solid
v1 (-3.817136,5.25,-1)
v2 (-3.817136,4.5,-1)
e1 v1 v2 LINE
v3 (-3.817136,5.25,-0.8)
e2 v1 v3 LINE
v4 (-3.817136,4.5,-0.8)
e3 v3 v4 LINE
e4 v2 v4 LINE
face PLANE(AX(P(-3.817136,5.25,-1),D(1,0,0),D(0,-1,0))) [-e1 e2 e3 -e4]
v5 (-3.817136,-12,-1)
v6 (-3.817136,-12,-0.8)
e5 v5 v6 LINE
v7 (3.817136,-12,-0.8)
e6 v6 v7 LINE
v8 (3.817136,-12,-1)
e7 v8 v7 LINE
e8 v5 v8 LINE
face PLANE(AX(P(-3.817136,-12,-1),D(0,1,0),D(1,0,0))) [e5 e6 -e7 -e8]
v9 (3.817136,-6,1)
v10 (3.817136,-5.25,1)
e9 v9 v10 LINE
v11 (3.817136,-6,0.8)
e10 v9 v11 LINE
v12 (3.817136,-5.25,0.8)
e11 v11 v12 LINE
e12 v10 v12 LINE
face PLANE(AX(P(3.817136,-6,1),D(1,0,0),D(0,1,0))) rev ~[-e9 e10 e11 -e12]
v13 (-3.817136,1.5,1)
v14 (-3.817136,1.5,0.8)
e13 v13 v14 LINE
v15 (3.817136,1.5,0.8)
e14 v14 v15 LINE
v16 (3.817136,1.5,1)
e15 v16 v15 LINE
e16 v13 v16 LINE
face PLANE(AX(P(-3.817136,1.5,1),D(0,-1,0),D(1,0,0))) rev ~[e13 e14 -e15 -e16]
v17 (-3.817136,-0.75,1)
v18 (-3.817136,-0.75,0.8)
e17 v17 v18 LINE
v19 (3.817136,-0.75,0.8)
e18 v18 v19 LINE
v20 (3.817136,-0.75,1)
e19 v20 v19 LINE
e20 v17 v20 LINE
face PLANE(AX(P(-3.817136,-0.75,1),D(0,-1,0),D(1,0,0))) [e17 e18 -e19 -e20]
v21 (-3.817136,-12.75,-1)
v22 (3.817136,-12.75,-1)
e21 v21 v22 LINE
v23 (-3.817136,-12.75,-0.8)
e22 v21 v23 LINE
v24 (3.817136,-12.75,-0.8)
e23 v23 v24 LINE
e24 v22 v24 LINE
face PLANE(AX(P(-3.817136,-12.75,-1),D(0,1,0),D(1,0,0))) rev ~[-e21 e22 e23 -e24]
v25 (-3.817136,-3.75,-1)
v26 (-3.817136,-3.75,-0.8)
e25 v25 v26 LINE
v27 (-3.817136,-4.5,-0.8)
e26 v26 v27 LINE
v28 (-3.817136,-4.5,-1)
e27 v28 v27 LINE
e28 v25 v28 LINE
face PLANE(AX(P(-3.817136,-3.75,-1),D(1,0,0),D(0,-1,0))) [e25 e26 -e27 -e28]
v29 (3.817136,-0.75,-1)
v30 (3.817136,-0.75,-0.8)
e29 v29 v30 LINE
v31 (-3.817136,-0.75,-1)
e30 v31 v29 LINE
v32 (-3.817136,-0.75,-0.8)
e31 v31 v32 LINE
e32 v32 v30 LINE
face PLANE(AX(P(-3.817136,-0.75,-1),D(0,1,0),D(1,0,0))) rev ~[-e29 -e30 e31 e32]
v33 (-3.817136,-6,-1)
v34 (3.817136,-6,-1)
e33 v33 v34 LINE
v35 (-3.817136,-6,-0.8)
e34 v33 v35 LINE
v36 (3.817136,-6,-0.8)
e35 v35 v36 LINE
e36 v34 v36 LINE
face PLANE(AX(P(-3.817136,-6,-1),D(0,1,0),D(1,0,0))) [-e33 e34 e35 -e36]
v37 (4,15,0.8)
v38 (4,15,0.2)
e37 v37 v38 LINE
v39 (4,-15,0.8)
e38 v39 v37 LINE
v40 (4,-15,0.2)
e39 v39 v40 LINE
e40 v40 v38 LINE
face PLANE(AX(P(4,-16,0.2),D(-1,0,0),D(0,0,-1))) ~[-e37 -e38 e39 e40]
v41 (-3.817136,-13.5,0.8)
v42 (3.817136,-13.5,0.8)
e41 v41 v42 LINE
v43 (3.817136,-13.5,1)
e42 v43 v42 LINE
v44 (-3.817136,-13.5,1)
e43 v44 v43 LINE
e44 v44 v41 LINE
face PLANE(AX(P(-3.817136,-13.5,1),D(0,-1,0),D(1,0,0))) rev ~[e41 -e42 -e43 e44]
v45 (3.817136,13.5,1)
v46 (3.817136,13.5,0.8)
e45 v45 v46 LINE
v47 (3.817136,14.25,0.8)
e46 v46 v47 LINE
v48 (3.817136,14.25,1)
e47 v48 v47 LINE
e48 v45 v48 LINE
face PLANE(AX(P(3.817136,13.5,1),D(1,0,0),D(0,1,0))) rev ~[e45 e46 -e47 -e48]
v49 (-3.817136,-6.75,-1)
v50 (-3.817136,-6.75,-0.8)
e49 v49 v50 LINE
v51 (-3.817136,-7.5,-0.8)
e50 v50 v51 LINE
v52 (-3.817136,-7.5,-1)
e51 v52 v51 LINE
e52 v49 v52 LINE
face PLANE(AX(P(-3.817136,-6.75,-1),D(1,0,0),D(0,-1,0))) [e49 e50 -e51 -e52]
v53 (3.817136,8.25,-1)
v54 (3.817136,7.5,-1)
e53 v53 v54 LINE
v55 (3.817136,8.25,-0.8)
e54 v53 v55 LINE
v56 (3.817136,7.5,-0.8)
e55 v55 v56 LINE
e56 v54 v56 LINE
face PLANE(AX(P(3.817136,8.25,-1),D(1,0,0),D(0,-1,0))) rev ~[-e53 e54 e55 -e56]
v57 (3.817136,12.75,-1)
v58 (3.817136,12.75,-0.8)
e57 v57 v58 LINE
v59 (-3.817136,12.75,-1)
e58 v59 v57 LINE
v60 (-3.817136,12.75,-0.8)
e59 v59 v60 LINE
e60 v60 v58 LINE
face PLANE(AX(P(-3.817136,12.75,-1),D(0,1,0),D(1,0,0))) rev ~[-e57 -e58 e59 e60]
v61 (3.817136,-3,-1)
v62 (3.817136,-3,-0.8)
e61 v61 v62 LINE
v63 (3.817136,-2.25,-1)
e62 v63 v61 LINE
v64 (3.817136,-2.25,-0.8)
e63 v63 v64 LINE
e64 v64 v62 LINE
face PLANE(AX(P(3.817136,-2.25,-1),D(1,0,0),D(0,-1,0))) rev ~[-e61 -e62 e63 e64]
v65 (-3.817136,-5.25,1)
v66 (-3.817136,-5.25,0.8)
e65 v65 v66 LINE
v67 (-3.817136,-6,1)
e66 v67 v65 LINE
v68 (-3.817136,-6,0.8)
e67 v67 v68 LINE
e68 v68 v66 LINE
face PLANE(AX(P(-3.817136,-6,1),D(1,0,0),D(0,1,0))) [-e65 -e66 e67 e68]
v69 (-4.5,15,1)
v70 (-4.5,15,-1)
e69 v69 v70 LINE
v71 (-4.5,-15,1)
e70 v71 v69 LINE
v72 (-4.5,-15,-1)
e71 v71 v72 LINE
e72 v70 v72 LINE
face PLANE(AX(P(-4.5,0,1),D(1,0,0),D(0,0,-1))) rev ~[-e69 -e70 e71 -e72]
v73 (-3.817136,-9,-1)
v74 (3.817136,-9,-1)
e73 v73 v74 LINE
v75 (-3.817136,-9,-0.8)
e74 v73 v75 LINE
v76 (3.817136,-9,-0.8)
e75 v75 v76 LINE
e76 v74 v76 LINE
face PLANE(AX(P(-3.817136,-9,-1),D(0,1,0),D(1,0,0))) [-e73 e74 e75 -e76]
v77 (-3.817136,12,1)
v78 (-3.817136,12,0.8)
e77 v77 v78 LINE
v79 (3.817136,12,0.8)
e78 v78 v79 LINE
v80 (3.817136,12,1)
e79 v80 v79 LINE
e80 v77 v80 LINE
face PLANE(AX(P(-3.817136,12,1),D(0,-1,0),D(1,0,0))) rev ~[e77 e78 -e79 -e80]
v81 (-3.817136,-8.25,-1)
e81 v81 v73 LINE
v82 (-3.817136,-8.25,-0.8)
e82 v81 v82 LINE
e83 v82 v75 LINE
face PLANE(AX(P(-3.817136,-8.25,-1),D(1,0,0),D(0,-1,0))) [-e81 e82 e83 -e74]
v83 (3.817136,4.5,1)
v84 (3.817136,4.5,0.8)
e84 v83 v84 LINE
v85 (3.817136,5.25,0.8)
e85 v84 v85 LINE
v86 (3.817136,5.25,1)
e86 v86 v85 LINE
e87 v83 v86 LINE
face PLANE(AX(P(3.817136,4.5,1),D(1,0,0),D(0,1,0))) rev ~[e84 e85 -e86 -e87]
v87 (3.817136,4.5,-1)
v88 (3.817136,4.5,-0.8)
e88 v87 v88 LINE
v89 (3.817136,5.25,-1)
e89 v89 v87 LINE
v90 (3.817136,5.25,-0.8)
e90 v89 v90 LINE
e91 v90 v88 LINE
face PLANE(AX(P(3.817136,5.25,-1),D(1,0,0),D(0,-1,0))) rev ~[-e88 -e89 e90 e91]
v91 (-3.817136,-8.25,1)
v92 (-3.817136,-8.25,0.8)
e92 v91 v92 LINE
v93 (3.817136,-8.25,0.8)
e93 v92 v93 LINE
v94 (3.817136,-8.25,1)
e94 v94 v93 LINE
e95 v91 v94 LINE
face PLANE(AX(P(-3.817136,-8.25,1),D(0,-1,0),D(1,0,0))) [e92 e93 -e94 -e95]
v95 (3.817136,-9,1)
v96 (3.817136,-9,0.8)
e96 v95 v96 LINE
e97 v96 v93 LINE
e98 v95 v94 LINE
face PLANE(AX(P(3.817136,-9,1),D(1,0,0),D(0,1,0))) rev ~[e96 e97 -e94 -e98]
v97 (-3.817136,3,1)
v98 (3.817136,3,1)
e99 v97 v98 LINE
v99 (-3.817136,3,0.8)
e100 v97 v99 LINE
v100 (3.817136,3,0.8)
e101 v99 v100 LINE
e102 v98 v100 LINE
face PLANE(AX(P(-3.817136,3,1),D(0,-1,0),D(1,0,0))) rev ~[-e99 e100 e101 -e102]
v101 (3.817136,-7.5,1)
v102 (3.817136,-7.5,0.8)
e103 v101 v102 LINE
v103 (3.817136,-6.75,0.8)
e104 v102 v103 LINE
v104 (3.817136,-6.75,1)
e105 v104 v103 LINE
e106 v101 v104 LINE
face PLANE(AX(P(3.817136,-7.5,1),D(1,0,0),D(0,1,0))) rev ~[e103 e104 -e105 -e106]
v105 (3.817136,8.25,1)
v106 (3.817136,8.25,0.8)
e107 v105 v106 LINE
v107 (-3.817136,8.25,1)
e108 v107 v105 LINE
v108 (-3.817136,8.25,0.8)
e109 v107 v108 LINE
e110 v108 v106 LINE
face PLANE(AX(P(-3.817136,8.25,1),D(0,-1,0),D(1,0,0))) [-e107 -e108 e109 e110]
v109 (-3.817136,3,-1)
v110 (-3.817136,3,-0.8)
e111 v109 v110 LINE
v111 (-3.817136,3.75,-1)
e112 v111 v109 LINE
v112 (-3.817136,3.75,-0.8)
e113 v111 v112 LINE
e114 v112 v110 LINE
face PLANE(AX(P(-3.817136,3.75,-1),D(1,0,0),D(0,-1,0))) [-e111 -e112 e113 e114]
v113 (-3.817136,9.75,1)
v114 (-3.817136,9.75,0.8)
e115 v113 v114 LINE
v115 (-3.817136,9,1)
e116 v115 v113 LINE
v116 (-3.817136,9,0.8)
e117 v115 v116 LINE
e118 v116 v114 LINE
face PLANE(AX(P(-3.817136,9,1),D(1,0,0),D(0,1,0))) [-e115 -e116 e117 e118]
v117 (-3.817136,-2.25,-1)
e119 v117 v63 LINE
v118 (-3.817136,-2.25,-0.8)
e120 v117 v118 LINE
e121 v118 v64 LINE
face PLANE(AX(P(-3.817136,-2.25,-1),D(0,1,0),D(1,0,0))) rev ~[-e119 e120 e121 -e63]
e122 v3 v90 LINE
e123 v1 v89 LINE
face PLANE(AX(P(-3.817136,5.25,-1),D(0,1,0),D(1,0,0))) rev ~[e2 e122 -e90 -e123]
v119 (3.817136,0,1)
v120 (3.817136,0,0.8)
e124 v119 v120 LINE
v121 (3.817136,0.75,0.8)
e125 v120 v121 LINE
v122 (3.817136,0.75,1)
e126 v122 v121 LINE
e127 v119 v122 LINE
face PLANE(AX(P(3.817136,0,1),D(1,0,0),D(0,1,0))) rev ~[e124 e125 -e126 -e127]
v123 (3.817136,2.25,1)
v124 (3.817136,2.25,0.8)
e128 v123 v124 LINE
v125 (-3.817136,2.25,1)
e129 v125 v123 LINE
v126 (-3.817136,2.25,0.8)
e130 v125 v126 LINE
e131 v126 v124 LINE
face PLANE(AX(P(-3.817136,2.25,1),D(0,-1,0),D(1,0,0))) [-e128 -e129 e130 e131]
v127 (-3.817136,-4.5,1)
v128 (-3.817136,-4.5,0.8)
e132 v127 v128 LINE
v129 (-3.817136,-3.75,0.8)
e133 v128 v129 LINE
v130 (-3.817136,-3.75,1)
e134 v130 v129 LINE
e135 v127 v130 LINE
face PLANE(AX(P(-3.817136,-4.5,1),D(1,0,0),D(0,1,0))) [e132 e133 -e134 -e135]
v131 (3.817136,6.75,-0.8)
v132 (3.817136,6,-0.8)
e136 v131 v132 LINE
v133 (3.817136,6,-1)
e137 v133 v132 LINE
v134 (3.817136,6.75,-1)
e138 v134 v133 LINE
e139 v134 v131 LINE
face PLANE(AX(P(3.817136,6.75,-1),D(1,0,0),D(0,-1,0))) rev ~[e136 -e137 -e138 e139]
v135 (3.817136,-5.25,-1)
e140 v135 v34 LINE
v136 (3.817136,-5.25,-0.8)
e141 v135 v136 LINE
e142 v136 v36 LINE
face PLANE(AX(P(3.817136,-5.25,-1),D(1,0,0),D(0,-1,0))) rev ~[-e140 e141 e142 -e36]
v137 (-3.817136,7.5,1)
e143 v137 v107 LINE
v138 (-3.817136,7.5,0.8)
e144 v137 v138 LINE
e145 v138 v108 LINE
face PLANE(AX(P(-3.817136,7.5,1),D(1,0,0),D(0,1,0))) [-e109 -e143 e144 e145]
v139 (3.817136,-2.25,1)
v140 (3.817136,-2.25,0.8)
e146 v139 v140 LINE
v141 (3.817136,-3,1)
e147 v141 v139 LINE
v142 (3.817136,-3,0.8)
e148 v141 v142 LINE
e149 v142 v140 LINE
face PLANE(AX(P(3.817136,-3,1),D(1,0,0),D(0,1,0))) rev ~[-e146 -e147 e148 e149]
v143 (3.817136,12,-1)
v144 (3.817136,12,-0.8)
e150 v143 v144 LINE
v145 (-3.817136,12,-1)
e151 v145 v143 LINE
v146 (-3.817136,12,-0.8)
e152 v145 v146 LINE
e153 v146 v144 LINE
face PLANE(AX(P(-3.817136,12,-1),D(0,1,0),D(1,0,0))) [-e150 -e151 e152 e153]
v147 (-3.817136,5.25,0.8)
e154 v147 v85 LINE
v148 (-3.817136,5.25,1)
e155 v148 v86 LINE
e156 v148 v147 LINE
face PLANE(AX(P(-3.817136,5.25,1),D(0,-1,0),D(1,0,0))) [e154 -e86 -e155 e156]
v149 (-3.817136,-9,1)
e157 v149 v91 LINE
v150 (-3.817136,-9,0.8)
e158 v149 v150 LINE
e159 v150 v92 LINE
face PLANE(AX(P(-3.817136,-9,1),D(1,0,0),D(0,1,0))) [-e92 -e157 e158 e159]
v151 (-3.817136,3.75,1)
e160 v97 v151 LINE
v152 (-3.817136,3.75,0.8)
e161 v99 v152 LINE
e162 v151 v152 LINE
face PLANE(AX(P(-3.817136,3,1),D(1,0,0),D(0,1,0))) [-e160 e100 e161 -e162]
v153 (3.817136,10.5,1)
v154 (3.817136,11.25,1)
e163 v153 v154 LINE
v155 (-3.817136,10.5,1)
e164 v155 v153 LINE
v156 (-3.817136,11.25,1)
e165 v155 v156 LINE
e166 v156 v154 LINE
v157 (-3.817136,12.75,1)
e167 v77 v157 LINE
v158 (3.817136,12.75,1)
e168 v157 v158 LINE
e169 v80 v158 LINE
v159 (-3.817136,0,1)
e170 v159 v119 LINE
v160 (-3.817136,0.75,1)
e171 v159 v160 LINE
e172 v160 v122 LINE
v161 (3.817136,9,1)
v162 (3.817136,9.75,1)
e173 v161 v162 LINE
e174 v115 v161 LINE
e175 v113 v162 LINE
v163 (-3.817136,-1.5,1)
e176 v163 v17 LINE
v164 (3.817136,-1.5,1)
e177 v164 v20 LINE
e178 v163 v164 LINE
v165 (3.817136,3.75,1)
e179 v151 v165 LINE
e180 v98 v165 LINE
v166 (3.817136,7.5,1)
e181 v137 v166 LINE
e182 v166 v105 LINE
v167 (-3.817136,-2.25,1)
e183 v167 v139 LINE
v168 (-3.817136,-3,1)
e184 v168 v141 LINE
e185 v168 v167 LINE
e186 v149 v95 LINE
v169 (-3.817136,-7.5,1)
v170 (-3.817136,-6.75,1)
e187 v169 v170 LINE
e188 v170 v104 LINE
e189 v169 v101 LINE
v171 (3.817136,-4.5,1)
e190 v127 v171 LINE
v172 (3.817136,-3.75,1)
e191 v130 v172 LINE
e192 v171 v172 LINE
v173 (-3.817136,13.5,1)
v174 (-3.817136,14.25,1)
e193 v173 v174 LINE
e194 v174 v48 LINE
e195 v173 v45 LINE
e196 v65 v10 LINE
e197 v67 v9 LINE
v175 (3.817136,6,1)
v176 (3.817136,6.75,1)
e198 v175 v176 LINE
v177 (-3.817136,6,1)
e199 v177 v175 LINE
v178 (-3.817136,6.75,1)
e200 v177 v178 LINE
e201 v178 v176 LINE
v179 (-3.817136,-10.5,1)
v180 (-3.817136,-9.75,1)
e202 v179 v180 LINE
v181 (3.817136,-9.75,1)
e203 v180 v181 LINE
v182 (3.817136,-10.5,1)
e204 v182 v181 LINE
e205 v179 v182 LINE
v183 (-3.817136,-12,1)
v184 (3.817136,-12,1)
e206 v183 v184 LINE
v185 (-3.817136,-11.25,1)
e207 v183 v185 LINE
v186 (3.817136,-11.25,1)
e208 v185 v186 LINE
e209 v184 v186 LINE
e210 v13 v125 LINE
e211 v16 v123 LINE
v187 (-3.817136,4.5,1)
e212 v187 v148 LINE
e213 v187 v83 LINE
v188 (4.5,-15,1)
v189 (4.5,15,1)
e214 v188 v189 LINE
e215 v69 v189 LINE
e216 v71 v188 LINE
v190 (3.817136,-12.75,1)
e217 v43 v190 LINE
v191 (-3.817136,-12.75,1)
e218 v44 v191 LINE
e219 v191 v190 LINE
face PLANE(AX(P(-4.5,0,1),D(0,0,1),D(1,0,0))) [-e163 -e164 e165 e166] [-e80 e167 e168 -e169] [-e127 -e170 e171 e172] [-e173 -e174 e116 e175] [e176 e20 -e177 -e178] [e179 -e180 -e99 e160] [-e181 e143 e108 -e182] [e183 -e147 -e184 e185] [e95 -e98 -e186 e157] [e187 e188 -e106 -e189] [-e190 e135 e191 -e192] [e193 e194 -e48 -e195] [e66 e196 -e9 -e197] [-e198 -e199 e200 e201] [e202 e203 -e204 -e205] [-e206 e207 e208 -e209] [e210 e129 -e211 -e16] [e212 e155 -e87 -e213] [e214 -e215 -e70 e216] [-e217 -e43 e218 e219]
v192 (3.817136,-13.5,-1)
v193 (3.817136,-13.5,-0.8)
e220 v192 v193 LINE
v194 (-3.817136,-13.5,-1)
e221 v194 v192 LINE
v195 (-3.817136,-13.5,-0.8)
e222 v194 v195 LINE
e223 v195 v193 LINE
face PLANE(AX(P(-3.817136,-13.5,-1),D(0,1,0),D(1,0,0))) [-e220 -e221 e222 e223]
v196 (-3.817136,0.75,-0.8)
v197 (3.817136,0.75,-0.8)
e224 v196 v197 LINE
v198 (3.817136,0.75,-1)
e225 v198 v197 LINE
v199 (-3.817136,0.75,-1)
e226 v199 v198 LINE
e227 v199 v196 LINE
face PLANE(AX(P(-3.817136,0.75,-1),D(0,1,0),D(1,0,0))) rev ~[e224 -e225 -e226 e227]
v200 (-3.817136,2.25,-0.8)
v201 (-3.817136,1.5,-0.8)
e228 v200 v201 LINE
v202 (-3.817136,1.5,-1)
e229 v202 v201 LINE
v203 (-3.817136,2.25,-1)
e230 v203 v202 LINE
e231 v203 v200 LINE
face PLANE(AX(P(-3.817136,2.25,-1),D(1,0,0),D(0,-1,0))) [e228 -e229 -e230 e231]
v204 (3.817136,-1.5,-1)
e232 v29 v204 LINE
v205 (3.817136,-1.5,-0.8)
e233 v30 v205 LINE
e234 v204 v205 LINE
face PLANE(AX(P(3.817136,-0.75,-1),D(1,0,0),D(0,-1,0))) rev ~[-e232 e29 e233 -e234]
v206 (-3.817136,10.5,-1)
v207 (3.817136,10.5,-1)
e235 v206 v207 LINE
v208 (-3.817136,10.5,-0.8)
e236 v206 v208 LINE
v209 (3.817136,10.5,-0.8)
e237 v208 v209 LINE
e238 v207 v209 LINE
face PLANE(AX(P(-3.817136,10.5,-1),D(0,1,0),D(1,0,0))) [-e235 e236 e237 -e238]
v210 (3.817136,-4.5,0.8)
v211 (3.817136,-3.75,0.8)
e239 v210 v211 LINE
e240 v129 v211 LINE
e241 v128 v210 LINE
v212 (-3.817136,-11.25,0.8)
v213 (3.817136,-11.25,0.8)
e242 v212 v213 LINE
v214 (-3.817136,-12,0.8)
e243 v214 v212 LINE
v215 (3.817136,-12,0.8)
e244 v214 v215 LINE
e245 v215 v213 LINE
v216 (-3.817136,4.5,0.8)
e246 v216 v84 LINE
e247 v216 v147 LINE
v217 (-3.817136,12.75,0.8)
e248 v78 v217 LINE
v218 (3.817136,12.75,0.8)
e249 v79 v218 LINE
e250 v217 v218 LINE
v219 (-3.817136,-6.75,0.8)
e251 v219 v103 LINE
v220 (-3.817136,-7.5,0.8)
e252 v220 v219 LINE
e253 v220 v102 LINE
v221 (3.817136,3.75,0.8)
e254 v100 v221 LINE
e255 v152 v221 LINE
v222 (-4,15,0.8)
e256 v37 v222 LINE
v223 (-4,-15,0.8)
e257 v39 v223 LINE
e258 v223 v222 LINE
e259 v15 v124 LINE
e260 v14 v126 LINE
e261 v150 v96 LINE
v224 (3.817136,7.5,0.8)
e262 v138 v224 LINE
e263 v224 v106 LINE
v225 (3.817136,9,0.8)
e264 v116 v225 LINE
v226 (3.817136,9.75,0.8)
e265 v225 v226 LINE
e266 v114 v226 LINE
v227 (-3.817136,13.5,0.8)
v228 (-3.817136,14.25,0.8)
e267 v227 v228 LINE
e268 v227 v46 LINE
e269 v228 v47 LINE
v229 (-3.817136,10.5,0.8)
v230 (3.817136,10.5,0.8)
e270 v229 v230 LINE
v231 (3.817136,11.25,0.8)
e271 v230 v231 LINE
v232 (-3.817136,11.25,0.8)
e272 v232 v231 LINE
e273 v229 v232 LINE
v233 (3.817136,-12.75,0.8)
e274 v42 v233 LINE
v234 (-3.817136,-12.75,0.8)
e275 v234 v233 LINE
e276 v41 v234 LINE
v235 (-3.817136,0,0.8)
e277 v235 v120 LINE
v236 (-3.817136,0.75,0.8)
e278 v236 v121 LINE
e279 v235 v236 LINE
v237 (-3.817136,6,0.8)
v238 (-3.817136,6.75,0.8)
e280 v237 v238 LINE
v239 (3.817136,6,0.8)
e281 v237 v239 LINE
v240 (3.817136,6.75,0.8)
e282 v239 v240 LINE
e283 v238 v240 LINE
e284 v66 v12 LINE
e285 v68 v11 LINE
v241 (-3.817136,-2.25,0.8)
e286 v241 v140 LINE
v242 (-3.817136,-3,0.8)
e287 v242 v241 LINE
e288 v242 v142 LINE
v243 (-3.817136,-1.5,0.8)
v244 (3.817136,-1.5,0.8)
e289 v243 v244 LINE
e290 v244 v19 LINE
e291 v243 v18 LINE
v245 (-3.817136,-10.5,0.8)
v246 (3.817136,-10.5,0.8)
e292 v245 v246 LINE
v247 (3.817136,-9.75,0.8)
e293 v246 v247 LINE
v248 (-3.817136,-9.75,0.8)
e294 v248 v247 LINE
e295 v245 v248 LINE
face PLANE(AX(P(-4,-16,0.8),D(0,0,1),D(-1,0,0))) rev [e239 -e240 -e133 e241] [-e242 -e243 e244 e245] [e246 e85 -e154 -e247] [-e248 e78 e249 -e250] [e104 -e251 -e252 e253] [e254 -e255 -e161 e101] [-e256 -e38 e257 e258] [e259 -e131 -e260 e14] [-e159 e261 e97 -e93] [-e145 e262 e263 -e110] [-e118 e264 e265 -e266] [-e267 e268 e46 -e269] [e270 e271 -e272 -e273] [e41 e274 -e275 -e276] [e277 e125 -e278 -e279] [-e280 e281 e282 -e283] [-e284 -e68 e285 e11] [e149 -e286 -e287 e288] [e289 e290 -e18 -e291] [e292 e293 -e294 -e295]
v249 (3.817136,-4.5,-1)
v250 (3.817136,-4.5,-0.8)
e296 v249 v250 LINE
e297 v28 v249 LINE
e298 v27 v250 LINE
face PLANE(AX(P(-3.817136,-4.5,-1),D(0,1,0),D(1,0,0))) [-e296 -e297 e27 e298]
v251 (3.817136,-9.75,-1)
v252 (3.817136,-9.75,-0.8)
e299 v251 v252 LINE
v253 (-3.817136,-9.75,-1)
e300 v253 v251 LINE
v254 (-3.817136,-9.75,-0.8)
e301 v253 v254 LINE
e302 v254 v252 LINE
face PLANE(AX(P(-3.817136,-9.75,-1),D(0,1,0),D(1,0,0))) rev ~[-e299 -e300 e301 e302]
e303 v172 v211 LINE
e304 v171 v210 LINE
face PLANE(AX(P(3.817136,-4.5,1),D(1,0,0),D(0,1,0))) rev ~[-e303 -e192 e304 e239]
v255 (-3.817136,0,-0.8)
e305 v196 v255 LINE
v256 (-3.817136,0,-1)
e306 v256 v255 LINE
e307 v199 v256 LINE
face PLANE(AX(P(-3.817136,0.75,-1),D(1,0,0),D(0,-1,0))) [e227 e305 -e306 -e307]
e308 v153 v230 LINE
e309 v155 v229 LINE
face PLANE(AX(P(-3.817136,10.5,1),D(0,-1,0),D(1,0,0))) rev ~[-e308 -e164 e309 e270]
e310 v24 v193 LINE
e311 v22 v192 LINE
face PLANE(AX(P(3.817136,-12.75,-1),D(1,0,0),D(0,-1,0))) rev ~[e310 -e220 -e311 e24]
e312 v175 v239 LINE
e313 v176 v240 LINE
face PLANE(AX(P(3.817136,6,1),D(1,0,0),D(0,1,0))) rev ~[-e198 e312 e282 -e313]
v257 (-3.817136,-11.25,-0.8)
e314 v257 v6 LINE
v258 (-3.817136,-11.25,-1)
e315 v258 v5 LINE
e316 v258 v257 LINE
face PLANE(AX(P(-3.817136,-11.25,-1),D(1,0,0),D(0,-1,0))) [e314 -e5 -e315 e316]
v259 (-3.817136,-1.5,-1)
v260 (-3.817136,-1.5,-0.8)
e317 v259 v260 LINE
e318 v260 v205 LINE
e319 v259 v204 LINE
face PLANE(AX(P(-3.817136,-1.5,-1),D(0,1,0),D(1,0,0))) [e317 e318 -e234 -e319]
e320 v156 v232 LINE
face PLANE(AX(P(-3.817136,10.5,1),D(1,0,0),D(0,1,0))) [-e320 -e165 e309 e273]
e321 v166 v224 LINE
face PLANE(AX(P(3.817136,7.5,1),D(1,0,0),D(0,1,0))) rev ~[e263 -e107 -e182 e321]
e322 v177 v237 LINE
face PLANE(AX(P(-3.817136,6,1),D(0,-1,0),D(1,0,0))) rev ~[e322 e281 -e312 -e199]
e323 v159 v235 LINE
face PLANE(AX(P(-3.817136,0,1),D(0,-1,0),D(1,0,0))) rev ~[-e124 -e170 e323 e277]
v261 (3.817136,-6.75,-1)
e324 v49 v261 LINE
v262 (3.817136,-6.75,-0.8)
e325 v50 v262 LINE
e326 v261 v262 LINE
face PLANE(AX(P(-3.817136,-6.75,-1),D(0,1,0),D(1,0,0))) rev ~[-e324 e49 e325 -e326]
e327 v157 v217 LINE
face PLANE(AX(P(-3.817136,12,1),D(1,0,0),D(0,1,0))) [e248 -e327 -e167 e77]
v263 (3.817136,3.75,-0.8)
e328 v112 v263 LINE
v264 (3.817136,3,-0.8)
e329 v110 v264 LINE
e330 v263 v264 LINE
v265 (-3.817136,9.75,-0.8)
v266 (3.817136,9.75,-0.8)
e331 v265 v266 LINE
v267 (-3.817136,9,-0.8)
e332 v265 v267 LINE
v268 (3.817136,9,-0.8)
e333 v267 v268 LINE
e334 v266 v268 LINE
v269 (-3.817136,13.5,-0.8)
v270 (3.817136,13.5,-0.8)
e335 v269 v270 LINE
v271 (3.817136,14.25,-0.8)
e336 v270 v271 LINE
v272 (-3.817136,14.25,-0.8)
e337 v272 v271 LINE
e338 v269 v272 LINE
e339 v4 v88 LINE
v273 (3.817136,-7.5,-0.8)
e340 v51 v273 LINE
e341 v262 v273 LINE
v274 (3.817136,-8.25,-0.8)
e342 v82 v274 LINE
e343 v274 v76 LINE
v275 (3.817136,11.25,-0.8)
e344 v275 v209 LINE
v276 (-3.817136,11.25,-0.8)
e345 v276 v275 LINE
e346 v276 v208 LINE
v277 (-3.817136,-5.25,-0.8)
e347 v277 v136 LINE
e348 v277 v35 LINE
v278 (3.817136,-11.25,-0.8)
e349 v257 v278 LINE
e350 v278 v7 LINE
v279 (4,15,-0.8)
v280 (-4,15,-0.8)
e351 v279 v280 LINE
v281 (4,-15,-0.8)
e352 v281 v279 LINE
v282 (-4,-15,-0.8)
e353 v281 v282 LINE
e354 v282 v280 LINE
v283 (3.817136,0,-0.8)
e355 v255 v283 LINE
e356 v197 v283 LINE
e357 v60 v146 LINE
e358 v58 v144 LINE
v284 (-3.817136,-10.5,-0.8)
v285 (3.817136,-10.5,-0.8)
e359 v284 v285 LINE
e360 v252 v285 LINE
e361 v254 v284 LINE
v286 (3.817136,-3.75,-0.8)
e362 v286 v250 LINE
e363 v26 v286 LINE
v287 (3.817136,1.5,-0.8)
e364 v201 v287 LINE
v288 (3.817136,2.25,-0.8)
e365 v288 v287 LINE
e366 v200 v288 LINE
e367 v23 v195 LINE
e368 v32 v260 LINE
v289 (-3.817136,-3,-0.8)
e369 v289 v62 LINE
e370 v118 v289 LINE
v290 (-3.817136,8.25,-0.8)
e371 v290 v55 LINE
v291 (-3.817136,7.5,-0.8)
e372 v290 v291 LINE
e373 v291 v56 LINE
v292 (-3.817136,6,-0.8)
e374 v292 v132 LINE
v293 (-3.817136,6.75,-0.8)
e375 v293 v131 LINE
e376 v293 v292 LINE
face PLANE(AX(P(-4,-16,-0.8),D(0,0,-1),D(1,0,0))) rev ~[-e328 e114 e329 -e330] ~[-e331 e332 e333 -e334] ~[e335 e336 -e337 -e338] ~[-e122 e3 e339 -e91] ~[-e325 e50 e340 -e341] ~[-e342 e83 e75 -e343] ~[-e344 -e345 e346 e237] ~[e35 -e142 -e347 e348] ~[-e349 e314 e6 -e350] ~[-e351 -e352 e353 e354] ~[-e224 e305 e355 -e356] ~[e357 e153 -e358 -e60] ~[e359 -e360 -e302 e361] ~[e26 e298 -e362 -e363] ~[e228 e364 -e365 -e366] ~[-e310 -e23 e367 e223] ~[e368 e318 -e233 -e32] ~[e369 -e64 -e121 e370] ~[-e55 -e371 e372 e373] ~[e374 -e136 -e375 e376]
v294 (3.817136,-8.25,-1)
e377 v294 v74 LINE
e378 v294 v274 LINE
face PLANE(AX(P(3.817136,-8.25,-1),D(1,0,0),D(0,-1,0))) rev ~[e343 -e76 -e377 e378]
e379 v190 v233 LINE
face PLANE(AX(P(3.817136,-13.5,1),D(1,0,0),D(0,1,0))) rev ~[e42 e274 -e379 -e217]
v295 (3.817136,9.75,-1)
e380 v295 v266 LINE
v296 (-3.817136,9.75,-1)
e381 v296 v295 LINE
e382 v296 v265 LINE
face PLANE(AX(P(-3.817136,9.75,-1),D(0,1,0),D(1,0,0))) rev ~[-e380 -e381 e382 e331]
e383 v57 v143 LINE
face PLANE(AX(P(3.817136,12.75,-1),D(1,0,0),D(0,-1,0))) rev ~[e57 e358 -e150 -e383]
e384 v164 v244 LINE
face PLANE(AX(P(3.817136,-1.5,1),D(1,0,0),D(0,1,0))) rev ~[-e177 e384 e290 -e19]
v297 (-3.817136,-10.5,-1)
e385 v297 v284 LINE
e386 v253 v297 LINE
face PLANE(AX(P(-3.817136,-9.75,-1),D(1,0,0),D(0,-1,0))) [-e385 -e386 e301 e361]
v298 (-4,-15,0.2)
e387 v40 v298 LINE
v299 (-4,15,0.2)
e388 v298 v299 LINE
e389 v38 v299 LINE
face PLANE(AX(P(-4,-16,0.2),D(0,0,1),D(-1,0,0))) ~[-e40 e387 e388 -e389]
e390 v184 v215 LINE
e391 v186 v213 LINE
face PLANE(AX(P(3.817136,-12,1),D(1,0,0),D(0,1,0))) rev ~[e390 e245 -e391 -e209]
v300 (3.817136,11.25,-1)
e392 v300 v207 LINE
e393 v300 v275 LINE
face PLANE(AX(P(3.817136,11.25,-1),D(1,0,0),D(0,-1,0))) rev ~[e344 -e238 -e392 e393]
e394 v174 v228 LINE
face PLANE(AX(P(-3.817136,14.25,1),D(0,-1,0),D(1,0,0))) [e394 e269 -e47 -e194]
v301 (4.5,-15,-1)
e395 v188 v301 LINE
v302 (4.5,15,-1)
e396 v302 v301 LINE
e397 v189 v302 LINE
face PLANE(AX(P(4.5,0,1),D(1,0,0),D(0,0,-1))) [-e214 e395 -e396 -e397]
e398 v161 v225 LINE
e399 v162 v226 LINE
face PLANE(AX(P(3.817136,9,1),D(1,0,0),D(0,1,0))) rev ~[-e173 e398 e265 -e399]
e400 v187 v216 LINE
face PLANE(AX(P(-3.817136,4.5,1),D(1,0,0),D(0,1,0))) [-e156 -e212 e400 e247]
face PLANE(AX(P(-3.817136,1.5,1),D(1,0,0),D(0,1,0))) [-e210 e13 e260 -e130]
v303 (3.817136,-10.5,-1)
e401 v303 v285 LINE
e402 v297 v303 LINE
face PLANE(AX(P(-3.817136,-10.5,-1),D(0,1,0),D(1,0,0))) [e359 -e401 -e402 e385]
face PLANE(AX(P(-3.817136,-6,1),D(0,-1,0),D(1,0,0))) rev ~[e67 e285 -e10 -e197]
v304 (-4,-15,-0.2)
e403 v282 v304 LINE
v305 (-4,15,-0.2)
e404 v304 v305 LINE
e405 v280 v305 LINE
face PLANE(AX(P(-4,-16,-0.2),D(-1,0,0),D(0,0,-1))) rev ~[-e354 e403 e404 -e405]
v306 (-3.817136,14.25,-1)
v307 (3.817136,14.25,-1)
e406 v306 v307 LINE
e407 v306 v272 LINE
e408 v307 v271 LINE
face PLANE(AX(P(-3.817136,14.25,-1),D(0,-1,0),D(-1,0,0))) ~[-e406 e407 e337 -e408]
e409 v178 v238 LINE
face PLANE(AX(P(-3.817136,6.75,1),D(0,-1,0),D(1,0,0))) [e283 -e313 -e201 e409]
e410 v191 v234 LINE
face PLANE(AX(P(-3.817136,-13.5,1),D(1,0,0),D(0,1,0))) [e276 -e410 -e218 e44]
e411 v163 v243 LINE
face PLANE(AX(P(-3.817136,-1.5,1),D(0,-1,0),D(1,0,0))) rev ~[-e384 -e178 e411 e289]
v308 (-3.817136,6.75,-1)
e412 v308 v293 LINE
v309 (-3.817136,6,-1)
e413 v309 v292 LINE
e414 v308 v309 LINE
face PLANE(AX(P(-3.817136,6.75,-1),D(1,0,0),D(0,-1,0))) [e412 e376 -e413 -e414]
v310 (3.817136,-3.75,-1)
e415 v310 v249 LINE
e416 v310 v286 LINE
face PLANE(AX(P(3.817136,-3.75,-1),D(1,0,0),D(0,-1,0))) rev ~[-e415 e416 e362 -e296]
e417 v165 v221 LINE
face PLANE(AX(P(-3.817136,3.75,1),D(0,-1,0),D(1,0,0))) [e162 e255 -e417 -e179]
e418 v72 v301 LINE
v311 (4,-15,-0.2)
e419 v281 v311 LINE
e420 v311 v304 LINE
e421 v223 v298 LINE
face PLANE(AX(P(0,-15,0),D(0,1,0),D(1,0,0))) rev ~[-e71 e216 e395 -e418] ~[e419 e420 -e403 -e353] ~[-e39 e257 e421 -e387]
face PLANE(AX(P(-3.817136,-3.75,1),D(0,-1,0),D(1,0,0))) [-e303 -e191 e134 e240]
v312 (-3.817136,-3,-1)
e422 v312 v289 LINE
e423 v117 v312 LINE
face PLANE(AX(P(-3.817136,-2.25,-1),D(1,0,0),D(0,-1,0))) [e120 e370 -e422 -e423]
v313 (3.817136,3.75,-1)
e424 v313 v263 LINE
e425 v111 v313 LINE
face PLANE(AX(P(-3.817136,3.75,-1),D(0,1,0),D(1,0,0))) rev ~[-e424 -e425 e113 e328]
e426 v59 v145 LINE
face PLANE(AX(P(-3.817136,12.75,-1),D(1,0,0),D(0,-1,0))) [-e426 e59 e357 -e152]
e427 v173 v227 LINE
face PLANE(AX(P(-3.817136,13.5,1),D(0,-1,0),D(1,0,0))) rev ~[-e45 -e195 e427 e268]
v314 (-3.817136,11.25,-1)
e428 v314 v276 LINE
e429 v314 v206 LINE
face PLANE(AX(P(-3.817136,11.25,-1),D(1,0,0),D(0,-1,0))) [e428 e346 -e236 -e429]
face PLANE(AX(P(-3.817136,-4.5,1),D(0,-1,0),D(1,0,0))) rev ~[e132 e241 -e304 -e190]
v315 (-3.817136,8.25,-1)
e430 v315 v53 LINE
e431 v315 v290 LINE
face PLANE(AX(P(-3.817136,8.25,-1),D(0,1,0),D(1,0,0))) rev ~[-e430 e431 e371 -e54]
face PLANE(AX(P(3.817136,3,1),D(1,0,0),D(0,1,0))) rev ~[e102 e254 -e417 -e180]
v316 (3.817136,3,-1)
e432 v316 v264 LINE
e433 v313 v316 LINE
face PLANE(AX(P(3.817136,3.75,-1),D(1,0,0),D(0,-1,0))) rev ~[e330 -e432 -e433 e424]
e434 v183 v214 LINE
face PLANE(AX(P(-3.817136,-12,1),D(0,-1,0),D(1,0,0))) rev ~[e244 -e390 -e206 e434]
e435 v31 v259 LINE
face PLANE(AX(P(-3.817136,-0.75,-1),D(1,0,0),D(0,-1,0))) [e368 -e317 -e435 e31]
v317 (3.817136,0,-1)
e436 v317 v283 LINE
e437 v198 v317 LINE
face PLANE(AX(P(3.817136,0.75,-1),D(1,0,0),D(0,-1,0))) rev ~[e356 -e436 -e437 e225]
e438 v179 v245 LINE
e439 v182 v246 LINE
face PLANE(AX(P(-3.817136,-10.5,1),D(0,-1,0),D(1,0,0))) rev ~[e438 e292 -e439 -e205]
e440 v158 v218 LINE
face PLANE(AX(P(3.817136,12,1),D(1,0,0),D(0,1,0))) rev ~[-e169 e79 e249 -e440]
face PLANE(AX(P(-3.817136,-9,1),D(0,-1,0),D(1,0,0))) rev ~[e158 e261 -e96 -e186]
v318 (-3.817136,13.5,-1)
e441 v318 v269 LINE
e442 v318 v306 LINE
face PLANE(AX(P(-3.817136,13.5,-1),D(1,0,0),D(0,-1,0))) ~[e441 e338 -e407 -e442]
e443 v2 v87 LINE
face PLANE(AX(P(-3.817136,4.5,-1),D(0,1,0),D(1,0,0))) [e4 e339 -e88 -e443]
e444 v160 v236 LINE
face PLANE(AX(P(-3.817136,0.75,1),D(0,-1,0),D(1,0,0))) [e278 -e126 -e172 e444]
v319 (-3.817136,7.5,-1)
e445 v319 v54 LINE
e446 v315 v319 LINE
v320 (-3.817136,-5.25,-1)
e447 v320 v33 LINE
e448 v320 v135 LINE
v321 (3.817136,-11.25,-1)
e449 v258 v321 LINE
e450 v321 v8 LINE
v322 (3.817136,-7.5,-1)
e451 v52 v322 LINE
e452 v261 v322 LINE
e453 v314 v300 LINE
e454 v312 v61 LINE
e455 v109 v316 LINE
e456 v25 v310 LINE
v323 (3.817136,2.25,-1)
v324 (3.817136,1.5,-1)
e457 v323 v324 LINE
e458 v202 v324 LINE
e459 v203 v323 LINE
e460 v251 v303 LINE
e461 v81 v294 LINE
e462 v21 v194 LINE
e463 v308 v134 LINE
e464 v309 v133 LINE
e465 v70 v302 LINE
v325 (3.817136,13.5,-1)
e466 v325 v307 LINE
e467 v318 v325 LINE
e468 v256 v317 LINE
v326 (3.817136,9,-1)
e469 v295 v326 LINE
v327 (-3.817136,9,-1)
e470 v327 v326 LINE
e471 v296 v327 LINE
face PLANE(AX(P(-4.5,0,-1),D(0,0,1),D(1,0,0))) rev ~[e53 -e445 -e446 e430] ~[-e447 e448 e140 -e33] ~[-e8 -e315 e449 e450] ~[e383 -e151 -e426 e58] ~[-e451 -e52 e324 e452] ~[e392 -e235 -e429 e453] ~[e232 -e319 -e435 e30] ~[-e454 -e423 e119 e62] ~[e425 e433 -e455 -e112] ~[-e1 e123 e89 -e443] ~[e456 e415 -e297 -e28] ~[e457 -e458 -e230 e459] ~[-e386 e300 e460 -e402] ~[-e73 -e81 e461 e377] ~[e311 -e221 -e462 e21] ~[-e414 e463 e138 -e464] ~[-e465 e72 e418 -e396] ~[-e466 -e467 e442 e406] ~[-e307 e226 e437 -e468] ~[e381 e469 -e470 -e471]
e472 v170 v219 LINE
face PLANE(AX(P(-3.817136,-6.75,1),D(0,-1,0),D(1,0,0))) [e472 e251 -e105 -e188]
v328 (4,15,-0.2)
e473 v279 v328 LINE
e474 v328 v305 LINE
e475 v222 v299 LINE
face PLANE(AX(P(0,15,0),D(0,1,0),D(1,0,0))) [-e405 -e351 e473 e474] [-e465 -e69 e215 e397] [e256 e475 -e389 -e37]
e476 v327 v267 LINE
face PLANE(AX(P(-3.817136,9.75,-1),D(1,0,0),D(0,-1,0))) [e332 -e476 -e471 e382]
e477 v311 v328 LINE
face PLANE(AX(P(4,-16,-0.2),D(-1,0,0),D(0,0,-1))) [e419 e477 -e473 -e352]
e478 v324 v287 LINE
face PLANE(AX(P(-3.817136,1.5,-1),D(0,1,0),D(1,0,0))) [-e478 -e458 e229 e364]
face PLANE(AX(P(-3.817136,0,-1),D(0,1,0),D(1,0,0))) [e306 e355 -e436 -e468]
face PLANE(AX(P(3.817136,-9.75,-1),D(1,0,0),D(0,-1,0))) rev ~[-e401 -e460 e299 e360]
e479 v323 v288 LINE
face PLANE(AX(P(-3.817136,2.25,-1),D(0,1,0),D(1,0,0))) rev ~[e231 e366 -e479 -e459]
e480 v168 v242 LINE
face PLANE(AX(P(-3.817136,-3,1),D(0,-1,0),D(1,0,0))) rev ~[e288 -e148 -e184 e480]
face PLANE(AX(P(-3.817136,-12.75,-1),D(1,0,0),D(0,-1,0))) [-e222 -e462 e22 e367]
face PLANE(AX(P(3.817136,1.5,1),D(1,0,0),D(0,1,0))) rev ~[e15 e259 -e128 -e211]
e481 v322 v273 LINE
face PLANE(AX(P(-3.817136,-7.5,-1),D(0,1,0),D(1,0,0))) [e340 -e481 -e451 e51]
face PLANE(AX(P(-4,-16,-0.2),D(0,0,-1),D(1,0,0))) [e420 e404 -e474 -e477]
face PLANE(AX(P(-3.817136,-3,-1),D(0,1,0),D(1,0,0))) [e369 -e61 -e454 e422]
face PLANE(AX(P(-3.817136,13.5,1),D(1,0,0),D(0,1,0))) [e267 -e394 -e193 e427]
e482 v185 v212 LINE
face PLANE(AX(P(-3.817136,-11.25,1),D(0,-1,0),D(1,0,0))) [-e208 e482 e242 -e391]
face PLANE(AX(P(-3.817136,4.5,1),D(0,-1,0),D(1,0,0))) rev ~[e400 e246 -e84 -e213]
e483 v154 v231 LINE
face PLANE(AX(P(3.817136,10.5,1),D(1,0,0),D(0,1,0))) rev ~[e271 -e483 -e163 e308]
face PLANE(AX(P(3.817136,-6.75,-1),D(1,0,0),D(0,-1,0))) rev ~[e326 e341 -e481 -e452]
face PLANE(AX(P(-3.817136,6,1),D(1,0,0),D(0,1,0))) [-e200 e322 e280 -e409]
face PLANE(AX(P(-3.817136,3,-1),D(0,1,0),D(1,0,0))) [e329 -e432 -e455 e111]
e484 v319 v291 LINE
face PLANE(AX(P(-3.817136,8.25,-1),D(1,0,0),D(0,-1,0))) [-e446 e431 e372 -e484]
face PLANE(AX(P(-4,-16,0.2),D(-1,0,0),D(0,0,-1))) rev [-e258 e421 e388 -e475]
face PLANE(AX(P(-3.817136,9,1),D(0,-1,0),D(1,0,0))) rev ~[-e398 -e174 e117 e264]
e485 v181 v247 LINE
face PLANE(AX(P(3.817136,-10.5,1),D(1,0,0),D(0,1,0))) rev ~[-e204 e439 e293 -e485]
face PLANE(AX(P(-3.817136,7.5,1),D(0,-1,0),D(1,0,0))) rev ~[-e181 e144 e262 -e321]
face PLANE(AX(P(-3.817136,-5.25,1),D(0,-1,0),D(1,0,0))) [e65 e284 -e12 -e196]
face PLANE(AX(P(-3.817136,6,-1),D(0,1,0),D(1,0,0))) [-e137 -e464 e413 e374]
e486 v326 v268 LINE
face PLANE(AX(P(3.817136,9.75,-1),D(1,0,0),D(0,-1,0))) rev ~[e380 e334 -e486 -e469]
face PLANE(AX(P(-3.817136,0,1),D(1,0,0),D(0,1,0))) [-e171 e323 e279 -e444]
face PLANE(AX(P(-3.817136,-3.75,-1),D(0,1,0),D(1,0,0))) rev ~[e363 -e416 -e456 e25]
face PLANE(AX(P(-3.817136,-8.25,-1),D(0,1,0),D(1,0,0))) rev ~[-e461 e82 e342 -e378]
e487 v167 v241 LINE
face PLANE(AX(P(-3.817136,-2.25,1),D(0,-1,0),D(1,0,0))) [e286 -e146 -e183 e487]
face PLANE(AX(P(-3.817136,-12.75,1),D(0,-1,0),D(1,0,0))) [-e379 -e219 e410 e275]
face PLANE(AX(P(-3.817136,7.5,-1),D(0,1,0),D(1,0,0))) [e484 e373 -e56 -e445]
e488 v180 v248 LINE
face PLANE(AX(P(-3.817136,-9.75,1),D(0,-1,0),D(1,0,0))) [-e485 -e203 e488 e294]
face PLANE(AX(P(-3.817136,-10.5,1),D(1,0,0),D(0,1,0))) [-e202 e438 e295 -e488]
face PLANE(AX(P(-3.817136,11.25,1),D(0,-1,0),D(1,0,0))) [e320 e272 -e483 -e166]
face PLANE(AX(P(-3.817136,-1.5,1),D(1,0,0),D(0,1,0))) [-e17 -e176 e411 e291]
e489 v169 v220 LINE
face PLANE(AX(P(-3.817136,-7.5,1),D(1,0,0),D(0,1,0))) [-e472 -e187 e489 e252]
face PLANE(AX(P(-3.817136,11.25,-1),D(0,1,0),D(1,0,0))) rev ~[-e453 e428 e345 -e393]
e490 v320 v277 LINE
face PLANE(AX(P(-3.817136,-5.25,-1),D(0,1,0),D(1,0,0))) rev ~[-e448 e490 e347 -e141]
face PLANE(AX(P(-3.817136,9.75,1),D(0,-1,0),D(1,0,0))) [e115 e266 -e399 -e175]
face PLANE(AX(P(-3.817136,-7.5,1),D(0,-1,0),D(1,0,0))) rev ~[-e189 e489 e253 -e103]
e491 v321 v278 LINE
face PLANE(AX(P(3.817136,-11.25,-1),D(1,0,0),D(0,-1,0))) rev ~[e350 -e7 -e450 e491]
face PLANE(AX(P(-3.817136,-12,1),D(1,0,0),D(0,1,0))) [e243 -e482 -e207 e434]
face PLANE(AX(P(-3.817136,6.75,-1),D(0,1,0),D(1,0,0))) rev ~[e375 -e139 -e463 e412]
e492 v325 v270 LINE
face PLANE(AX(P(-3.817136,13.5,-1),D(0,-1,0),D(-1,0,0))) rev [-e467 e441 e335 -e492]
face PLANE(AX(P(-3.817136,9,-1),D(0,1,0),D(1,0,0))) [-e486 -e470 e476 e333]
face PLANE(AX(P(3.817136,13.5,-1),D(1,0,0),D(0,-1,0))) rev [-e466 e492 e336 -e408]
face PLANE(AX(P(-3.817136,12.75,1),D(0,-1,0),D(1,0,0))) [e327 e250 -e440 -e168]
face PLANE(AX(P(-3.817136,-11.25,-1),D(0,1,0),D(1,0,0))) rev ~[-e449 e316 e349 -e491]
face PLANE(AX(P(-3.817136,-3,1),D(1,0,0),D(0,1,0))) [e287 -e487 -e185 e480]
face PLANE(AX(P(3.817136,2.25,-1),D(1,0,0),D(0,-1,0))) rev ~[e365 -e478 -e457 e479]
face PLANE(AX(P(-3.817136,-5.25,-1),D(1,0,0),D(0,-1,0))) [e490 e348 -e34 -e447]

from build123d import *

# Parameters (mm, degrees)
SKETCH1_W                = 9
SKETCH1_H                = 2
BOSS_EXTRUDE1_DEPTH      = 15
CUT_EXTRUDE1_START       = -31
SKETCH2_W                = 8
SKETCH2_H                = 0.6
CUT_EXTRUDE1_DEPTH       = 32
SKETCH3_W                = 7.634272068
SKETCH3_H                = 0.75
CUT_EXTRUDE2_DEPTH       = 0.2
LPATTERN1_COUNT          = 19
LPATTERN1_PITCH          = 1.5
MIRROR2_COPY_1_SKETCH_W  = 7.634272068
MIRROR2_COPY_1_SKETCH_H  = 0.75
MIRROR2_COPY_1_DEPTH     = 0.2
MIRROR2_COPY_2_SKETCH_W  = 7.634272068
MIRROR2_COPY_2_SKETCH_H  = 0.75
MIRROR2_COPY_2_DEPTH     = 0.2
MIRROR2_COPY_3_SKETCH_W  = 7.634272068
MIRROR2_COPY_3_SKETCH_H  = 0.75
MIRROR2_COPY_3_DEPTH     = 0.2
MIRROR2_COPY_4_SKETCH_W  = 7.634272068
MIRROR2_COPY_4_SKETCH_H  = 0.75
MIRROR2_COPY_4_DEPTH     = 0.2
MIRROR2_COPY_5_SKETCH_W  = 7.634272068
MIRROR2_COPY_5_SKETCH_H  = 0.75
MIRROR2_COPY_5_DEPTH     = 0.2
MIRROR2_COPY_6_SKETCH_W  = 7.634272068
MIRROR2_COPY_6_SKETCH_H  = 0.75
MIRROR2_COPY_6_DEPTH     = 0.2
MIRROR2_COPY_7_SKETCH_W  = 7.634272068
MIRROR2_COPY_7_SKETCH_H  = 0.75
MIRROR2_COPY_7_DEPTH     = 0.2
MIRROR2_COPY_8_SKETCH_W  = 7.634272068
MIRROR2_COPY_8_SKETCH_H  = 0.75
MIRROR2_COPY_8_DEPTH     = 0.2
MIRROR2_COPY_9_SKETCH_W  = 7.634272068
MIRROR2_COPY_9_SKETCH_H  = 0.75
MIRROR2_COPY_9_DEPTH     = 0.2
MIRROR2_COPY_10_SKETCH_W = 7.634272068
MIRROR2_COPY_10_SKETCH_H = 0.75
MIRROR2_COPY_10_DEPTH    = 0.2
MIRROR2_COPY_11_SKETCH_W = 7.634272068
MIRROR2_COPY_11_SKETCH_H = 0.75
MIRROR2_COPY_11_DEPTH    = 0.2
MIRROR2_COPY_12_SKETCH_W = 7.634272068
MIRROR2_COPY_12_SKETCH_H = 0.75
MIRROR2_COPY_12_DEPTH    = 0.2
MIRROR2_COPY_13_SKETCH_W = 7.634272068
MIRROR2_COPY_13_SKETCH_H = 0.75
MIRROR2_COPY_13_DEPTH    = 0.2
MIRROR2_COPY_14_SKETCH_W = 7.634272068
MIRROR2_COPY_14_SKETCH_H = 0.75
MIRROR2_COPY_14_DEPTH    = 0.2
MIRROR2_COPY_15_SKETCH_W = 7.634272068
MIRROR2_COPY_15_SKETCH_H = 0.75
MIRROR2_COPY_15_DEPTH    = 0.2
MIRROR2_COPY_16_SKETCH_W = 7.634272068
MIRROR2_COPY_16_SKETCH_H = 0.75
MIRROR2_COPY_16_DEPTH    = 0.2
MIRROR2_COPY_17_SKETCH_W = 7.634272068
MIRROR2_COPY_17_SKETCH_H = 0.75
MIRROR2_COPY_17_DEPTH    = 0.2
MIRROR2_COPY_18_SKETCH_W = 7.634272068
MIRROR2_COPY_18_SKETCH_H = 0.75
MIRROR2_COPY_18_DEPTH    = 0.2


with BuildPart() as part:
    # Sketch1 → Boss-Extrude1 (new body, symmetric)
    with BuildSketch(Plane(origin=(0, 0, 0), x_dir=(1, 0, 0), z_dir=(0, 1, 0))):
        Rectangle(SKETCH1_W, SKETCH1_H)
    extrude(amount=BOSS_EXTRUDE1_DEPTH, both=True)

    # Sketch2 → Cut-Extrude1 (cut)
    with BuildSketch(Plane(origin=(0, 15, 0), x_dir=(1, 0, 0), z_dir=(0, 1, 0)).offset(CUT_EXTRUDE1_START)):
        with Locations((0, 0.5)):
            Rectangle(SKETCH2_W, SKETCH2_H)
    cut_extrude1 = extrude(amount=CUT_EXTRUDE1_DEPTH, mode=Mode.SUBTRACT)

    # Mirror1: Cut-Extrude1 across plane
    add(cut_extrude1.mirror(Plane.XY), mode=Mode.SUBTRACT)

    # Sketch3 → Cut-Extrude2 (cut)
    with BuildSketch(Plane.XY.offset(1)):
        with Locations((0, 13.875)):
            Rectangle(SKETCH3_W, SKETCH3_H)
    cut_extrude2 = extrude(amount=-CUT_EXTRUDE2_DEPTH, mode=Mode.SUBTRACT)

    # LPattern1: Cut-Extrude2 ×19
    with Locations(*[(0, -i * LPATTERN1_PITCH, 0) for i in range(1, LPATTERN1_COUNT)]):
        add(cut_extrude2, mode=Mode.SUBTRACT)

    # Mirror2: Cut-Extrude2 across plane
    add(cut_extrude2.mirror(Plane.XY), mode=Mode.SUBTRACT)

    # Mirror2 copy 1 sketch → Mirror2 copy 1 (cut)
    with BuildSketch(Plane(origin=(0, -1.5, -1), x_dir=(1, 0, 0), z_dir=(0, 0, -1))):
        with Locations((0, -13.875)):
            Rectangle(MIRROR2_COPY_1_SKETCH_W, MIRROR2_COPY_1_SKETCH_H)
    extrude(amount=-MIRROR2_COPY_1_DEPTH, mode=Mode.SUBTRACT)

    # Mirror2 copy 2 sketch → Mirror2 copy 2 (cut)
    with BuildSketch(Plane(origin=(0, -3, -1), x_dir=(1, 0, 0), z_dir=(0, 0, -1))):
        with Locations((0, -13.875)):
            Rectangle(MIRROR2_COPY_2_SKETCH_W, MIRROR2_COPY_2_SKETCH_H)
    extrude(amount=-MIRROR2_COPY_2_DEPTH, mode=Mode.SUBTRACT)

    # Mirror2 copy 3 sketch → Mirror2 copy 3 (cut)
    with BuildSketch(Plane(origin=(0, -4.5, -1), x_dir=(1, 0, 0), z_dir=(0, 0, -1))):
        with Locations((0, -13.875)):
            Rectangle(MIRROR2_COPY_3_SKETCH_W, MIRROR2_COPY_3_SKETCH_H)
    extrude(amount=-MIRROR2_COPY_3_DEPTH, mode=Mode.SUBTRACT)

    # Mirror2 copy 4 sketch → Mirror2 copy 4 (cut)
    with BuildSketch(Plane(origin=(0, -6, -1), x_dir=(1, 0, 0), z_dir=(0, 0, -1))):
        with Locations((0, -13.875)):
            Rectangle(MIRROR2_COPY_4_SKETCH_W, MIRROR2_COPY_4_SKETCH_H)
    extrude(amount=-MIRROR2_COPY_4_DEPTH, mode=Mode.SUBTRACT)

    # Mirror2 copy 5 sketch → Mirror2 copy 5 (cut)
    with BuildSketch(Plane(origin=(0, -7.5, -1), x_dir=(1, 0, 0), z_dir=(0, 0, -1))):
        with Locations((0, -13.875)):
            Rectangle(MIRROR2_COPY_5_SKETCH_W, MIRROR2_COPY_5_SKETCH_H)
    extrude(amount=-MIRROR2_COPY_5_DEPTH, mode=Mode.SUBTRACT)

    # Mirror2 copy 6 sketch → Mirror2 copy 6 (cut)
    with BuildSketch(Plane(origin=(0, -9, -1), x_dir=(1, 0, 0), z_dir=(0, 0, -1))):
        with Locations((0, -13.875)):
            Rectangle(MIRROR2_COPY_6_SKETCH_W, MIRROR2_COPY_6_SKETCH_H)
    extrude(amount=-MIRROR2_COPY_6_DEPTH, mode=Mode.SUBTRACT)

    # Mirror2 copy 7 sketch → Mirror2 copy 7 (cut)
    with BuildSketch(Plane(origin=(0, -10.5, -1), x_dir=(1, 0, 0), z_dir=(0, 0, -1))):
        with Locations((0, -13.875)):
            Rectangle(MIRROR2_COPY_7_SKETCH_W, MIRROR2_COPY_7_SKETCH_H)
    extrude(amount=-MIRROR2_COPY_7_DEPTH, mode=Mode.SUBTRACT)

    # Mirror2 copy 8 sketch → Mirror2 copy 8 (cut)
    with BuildSketch(Plane(origin=(0, -12, -1), x_dir=(1, 0, 0), z_dir=(0, 0, -1))):
        with Locations((0, -13.875)):
            Rectangle(MIRROR2_COPY_8_SKETCH_W, MIRROR2_COPY_8_SKETCH_H)
    extrude(amount=-MIRROR2_COPY_8_DEPTH, mode=Mode.SUBTRACT)

    # Mirror2 copy 9 sketch → Mirror2 copy 9 (cut)
    with BuildSketch(Plane(origin=(0, -13.5, -1), x_dir=(1, 0, 0), z_dir=(0, 0, -1))):
        with Locations((0, -13.875)):
            Rectangle(MIRROR2_COPY_9_SKETCH_W, MIRROR2_COPY_9_SKETCH_H)
    extrude(amount=-MIRROR2_COPY_9_DEPTH, mode=Mode.SUBTRACT)

    # Mirror2 copy 10 sketch → Mirror2 copy 10 (cut)
    with BuildSketch(Plane(origin=(0, -15, -1), x_dir=(1, 0, 0), z_dir=(0, 0, -1))):
        with Locations((0, -13.875)):
            Rectangle(MIRROR2_COPY_10_SKETCH_W, MIRROR2_COPY_10_SKETCH_H)
    extrude(amount=-MIRROR2_COPY_10_DEPTH, mode=Mode.SUBTRACT)

    # Mirror2 copy 11 sketch → Mirror2 copy 11 (cut)
    with BuildSketch(Plane(origin=(0, -16.5, -1), x_dir=(1, 0, 0), z_dir=(0, 0, -1))):
        with Locations((0, -13.875)):
            Rectangle(MIRROR2_COPY_11_SKETCH_W, MIRROR2_COPY_11_SKETCH_H)
    extrude(amount=-MIRROR2_COPY_11_DEPTH, mode=Mode.SUBTRACT)

    # Mirror2 copy 12 sketch → Mirror2 copy 12 (cut)
    with BuildSketch(Plane(origin=(0, -18, -1), x_dir=(1, 0, 0), z_dir=(0, 0, -1))):
        with Locations((0, -13.875)):
            Rectangle(MIRROR2_COPY_12_SKETCH_W, MIRROR2_COPY_12_SKETCH_H)
    extrude(amount=-MIRROR2_COPY_12_DEPTH, mode=Mode.SUBTRACT)

    # Mirror2 copy 13 sketch → Mirror2 copy 13 (cut)
    with BuildSketch(Plane(origin=(0, -19.5, -1), x_dir=(1, 0, 0), z_dir=(0, 0, -1))):
        with Locations((0, -13.875)):
            Rectangle(MIRROR2_COPY_13_SKETCH_W, MIRROR2_COPY_13_SKETCH_H)
    extrude(amount=-MIRROR2_COPY_13_DEPTH, mode=Mode.SUBTRACT)

    # Mirror2 copy 14 sketch → Mirror2 copy 14 (cut)
    with BuildSketch(Plane(origin=(0, -21, -1), x_dir=(1, 0, 0), z_dir=(0, 0, -1))):
        with Locations((0, -13.875)):
            Rectangle(MIRROR2_COPY_14_SKETCH_W, MIRROR2_COPY_14_SKETCH_H)
    extrude(amount=-MIRROR2_COPY_14_DEPTH, mode=Mode.SUBTRACT)

    # Mirror2 copy 15 sketch → Mirror2 copy 15 (cut)
    with BuildSketch(Plane(origin=(0, -22.5, -1), x_dir=(1, 0, 0), z_dir=(0, 0, -1))):
        with Locations((0, -13.875)):
            Rectangle(MIRROR2_COPY_15_SKETCH_W, MIRROR2_COPY_15_SKETCH_H)
    extrude(amount=-MIRROR2_COPY_15_DEPTH, mode=Mode.SUBTRACT)

    # Mirror2 copy 16 sketch → Mirror2 copy 16 (cut)
    with BuildSketch(Plane(origin=(0, -24, -1), x_dir=(1, 0, 0), z_dir=(0, 0, -1))):
        with Locations((0, -13.875)):
            Rectangle(MIRROR2_COPY_16_SKETCH_W, MIRROR2_COPY_16_SKETCH_H)
    extrude(amount=-MIRROR2_COPY_16_DEPTH, mode=Mode.SUBTRACT)

    # Mirror2 copy 17 sketch → Mirror2 copy 17 (cut)
    with BuildSketch(Plane(origin=(0, -25.5, -1), x_dir=(1, 0, 0), z_dir=(0, 0, -1))):
        with Locations((0, -13.875)):
            Rectangle(MIRROR2_COPY_17_SKETCH_W, MIRROR2_COPY_17_SKETCH_H)
    extrude(amount=-MIRROR2_COPY_17_DEPTH, mode=Mode.SUBTRACT)

    # Mirror2 copy 18 sketch → Mirror2 copy 18 (cut)
    with BuildSketch(Plane(origin=(0, -27, -1), x_dir=(1, 0, 0), z_dir=(0, 0, -1))):
        with Locations((0, -13.875)):
            Rectangle(MIRROR2_COPY_18_SKETCH_W, MIRROR2_COPY_18_SKETCH_H)
    extrude(amount=-MIRROR2_COPY_18_DEPTH, mode=Mode.SUBTRACT)


solid = part.part
